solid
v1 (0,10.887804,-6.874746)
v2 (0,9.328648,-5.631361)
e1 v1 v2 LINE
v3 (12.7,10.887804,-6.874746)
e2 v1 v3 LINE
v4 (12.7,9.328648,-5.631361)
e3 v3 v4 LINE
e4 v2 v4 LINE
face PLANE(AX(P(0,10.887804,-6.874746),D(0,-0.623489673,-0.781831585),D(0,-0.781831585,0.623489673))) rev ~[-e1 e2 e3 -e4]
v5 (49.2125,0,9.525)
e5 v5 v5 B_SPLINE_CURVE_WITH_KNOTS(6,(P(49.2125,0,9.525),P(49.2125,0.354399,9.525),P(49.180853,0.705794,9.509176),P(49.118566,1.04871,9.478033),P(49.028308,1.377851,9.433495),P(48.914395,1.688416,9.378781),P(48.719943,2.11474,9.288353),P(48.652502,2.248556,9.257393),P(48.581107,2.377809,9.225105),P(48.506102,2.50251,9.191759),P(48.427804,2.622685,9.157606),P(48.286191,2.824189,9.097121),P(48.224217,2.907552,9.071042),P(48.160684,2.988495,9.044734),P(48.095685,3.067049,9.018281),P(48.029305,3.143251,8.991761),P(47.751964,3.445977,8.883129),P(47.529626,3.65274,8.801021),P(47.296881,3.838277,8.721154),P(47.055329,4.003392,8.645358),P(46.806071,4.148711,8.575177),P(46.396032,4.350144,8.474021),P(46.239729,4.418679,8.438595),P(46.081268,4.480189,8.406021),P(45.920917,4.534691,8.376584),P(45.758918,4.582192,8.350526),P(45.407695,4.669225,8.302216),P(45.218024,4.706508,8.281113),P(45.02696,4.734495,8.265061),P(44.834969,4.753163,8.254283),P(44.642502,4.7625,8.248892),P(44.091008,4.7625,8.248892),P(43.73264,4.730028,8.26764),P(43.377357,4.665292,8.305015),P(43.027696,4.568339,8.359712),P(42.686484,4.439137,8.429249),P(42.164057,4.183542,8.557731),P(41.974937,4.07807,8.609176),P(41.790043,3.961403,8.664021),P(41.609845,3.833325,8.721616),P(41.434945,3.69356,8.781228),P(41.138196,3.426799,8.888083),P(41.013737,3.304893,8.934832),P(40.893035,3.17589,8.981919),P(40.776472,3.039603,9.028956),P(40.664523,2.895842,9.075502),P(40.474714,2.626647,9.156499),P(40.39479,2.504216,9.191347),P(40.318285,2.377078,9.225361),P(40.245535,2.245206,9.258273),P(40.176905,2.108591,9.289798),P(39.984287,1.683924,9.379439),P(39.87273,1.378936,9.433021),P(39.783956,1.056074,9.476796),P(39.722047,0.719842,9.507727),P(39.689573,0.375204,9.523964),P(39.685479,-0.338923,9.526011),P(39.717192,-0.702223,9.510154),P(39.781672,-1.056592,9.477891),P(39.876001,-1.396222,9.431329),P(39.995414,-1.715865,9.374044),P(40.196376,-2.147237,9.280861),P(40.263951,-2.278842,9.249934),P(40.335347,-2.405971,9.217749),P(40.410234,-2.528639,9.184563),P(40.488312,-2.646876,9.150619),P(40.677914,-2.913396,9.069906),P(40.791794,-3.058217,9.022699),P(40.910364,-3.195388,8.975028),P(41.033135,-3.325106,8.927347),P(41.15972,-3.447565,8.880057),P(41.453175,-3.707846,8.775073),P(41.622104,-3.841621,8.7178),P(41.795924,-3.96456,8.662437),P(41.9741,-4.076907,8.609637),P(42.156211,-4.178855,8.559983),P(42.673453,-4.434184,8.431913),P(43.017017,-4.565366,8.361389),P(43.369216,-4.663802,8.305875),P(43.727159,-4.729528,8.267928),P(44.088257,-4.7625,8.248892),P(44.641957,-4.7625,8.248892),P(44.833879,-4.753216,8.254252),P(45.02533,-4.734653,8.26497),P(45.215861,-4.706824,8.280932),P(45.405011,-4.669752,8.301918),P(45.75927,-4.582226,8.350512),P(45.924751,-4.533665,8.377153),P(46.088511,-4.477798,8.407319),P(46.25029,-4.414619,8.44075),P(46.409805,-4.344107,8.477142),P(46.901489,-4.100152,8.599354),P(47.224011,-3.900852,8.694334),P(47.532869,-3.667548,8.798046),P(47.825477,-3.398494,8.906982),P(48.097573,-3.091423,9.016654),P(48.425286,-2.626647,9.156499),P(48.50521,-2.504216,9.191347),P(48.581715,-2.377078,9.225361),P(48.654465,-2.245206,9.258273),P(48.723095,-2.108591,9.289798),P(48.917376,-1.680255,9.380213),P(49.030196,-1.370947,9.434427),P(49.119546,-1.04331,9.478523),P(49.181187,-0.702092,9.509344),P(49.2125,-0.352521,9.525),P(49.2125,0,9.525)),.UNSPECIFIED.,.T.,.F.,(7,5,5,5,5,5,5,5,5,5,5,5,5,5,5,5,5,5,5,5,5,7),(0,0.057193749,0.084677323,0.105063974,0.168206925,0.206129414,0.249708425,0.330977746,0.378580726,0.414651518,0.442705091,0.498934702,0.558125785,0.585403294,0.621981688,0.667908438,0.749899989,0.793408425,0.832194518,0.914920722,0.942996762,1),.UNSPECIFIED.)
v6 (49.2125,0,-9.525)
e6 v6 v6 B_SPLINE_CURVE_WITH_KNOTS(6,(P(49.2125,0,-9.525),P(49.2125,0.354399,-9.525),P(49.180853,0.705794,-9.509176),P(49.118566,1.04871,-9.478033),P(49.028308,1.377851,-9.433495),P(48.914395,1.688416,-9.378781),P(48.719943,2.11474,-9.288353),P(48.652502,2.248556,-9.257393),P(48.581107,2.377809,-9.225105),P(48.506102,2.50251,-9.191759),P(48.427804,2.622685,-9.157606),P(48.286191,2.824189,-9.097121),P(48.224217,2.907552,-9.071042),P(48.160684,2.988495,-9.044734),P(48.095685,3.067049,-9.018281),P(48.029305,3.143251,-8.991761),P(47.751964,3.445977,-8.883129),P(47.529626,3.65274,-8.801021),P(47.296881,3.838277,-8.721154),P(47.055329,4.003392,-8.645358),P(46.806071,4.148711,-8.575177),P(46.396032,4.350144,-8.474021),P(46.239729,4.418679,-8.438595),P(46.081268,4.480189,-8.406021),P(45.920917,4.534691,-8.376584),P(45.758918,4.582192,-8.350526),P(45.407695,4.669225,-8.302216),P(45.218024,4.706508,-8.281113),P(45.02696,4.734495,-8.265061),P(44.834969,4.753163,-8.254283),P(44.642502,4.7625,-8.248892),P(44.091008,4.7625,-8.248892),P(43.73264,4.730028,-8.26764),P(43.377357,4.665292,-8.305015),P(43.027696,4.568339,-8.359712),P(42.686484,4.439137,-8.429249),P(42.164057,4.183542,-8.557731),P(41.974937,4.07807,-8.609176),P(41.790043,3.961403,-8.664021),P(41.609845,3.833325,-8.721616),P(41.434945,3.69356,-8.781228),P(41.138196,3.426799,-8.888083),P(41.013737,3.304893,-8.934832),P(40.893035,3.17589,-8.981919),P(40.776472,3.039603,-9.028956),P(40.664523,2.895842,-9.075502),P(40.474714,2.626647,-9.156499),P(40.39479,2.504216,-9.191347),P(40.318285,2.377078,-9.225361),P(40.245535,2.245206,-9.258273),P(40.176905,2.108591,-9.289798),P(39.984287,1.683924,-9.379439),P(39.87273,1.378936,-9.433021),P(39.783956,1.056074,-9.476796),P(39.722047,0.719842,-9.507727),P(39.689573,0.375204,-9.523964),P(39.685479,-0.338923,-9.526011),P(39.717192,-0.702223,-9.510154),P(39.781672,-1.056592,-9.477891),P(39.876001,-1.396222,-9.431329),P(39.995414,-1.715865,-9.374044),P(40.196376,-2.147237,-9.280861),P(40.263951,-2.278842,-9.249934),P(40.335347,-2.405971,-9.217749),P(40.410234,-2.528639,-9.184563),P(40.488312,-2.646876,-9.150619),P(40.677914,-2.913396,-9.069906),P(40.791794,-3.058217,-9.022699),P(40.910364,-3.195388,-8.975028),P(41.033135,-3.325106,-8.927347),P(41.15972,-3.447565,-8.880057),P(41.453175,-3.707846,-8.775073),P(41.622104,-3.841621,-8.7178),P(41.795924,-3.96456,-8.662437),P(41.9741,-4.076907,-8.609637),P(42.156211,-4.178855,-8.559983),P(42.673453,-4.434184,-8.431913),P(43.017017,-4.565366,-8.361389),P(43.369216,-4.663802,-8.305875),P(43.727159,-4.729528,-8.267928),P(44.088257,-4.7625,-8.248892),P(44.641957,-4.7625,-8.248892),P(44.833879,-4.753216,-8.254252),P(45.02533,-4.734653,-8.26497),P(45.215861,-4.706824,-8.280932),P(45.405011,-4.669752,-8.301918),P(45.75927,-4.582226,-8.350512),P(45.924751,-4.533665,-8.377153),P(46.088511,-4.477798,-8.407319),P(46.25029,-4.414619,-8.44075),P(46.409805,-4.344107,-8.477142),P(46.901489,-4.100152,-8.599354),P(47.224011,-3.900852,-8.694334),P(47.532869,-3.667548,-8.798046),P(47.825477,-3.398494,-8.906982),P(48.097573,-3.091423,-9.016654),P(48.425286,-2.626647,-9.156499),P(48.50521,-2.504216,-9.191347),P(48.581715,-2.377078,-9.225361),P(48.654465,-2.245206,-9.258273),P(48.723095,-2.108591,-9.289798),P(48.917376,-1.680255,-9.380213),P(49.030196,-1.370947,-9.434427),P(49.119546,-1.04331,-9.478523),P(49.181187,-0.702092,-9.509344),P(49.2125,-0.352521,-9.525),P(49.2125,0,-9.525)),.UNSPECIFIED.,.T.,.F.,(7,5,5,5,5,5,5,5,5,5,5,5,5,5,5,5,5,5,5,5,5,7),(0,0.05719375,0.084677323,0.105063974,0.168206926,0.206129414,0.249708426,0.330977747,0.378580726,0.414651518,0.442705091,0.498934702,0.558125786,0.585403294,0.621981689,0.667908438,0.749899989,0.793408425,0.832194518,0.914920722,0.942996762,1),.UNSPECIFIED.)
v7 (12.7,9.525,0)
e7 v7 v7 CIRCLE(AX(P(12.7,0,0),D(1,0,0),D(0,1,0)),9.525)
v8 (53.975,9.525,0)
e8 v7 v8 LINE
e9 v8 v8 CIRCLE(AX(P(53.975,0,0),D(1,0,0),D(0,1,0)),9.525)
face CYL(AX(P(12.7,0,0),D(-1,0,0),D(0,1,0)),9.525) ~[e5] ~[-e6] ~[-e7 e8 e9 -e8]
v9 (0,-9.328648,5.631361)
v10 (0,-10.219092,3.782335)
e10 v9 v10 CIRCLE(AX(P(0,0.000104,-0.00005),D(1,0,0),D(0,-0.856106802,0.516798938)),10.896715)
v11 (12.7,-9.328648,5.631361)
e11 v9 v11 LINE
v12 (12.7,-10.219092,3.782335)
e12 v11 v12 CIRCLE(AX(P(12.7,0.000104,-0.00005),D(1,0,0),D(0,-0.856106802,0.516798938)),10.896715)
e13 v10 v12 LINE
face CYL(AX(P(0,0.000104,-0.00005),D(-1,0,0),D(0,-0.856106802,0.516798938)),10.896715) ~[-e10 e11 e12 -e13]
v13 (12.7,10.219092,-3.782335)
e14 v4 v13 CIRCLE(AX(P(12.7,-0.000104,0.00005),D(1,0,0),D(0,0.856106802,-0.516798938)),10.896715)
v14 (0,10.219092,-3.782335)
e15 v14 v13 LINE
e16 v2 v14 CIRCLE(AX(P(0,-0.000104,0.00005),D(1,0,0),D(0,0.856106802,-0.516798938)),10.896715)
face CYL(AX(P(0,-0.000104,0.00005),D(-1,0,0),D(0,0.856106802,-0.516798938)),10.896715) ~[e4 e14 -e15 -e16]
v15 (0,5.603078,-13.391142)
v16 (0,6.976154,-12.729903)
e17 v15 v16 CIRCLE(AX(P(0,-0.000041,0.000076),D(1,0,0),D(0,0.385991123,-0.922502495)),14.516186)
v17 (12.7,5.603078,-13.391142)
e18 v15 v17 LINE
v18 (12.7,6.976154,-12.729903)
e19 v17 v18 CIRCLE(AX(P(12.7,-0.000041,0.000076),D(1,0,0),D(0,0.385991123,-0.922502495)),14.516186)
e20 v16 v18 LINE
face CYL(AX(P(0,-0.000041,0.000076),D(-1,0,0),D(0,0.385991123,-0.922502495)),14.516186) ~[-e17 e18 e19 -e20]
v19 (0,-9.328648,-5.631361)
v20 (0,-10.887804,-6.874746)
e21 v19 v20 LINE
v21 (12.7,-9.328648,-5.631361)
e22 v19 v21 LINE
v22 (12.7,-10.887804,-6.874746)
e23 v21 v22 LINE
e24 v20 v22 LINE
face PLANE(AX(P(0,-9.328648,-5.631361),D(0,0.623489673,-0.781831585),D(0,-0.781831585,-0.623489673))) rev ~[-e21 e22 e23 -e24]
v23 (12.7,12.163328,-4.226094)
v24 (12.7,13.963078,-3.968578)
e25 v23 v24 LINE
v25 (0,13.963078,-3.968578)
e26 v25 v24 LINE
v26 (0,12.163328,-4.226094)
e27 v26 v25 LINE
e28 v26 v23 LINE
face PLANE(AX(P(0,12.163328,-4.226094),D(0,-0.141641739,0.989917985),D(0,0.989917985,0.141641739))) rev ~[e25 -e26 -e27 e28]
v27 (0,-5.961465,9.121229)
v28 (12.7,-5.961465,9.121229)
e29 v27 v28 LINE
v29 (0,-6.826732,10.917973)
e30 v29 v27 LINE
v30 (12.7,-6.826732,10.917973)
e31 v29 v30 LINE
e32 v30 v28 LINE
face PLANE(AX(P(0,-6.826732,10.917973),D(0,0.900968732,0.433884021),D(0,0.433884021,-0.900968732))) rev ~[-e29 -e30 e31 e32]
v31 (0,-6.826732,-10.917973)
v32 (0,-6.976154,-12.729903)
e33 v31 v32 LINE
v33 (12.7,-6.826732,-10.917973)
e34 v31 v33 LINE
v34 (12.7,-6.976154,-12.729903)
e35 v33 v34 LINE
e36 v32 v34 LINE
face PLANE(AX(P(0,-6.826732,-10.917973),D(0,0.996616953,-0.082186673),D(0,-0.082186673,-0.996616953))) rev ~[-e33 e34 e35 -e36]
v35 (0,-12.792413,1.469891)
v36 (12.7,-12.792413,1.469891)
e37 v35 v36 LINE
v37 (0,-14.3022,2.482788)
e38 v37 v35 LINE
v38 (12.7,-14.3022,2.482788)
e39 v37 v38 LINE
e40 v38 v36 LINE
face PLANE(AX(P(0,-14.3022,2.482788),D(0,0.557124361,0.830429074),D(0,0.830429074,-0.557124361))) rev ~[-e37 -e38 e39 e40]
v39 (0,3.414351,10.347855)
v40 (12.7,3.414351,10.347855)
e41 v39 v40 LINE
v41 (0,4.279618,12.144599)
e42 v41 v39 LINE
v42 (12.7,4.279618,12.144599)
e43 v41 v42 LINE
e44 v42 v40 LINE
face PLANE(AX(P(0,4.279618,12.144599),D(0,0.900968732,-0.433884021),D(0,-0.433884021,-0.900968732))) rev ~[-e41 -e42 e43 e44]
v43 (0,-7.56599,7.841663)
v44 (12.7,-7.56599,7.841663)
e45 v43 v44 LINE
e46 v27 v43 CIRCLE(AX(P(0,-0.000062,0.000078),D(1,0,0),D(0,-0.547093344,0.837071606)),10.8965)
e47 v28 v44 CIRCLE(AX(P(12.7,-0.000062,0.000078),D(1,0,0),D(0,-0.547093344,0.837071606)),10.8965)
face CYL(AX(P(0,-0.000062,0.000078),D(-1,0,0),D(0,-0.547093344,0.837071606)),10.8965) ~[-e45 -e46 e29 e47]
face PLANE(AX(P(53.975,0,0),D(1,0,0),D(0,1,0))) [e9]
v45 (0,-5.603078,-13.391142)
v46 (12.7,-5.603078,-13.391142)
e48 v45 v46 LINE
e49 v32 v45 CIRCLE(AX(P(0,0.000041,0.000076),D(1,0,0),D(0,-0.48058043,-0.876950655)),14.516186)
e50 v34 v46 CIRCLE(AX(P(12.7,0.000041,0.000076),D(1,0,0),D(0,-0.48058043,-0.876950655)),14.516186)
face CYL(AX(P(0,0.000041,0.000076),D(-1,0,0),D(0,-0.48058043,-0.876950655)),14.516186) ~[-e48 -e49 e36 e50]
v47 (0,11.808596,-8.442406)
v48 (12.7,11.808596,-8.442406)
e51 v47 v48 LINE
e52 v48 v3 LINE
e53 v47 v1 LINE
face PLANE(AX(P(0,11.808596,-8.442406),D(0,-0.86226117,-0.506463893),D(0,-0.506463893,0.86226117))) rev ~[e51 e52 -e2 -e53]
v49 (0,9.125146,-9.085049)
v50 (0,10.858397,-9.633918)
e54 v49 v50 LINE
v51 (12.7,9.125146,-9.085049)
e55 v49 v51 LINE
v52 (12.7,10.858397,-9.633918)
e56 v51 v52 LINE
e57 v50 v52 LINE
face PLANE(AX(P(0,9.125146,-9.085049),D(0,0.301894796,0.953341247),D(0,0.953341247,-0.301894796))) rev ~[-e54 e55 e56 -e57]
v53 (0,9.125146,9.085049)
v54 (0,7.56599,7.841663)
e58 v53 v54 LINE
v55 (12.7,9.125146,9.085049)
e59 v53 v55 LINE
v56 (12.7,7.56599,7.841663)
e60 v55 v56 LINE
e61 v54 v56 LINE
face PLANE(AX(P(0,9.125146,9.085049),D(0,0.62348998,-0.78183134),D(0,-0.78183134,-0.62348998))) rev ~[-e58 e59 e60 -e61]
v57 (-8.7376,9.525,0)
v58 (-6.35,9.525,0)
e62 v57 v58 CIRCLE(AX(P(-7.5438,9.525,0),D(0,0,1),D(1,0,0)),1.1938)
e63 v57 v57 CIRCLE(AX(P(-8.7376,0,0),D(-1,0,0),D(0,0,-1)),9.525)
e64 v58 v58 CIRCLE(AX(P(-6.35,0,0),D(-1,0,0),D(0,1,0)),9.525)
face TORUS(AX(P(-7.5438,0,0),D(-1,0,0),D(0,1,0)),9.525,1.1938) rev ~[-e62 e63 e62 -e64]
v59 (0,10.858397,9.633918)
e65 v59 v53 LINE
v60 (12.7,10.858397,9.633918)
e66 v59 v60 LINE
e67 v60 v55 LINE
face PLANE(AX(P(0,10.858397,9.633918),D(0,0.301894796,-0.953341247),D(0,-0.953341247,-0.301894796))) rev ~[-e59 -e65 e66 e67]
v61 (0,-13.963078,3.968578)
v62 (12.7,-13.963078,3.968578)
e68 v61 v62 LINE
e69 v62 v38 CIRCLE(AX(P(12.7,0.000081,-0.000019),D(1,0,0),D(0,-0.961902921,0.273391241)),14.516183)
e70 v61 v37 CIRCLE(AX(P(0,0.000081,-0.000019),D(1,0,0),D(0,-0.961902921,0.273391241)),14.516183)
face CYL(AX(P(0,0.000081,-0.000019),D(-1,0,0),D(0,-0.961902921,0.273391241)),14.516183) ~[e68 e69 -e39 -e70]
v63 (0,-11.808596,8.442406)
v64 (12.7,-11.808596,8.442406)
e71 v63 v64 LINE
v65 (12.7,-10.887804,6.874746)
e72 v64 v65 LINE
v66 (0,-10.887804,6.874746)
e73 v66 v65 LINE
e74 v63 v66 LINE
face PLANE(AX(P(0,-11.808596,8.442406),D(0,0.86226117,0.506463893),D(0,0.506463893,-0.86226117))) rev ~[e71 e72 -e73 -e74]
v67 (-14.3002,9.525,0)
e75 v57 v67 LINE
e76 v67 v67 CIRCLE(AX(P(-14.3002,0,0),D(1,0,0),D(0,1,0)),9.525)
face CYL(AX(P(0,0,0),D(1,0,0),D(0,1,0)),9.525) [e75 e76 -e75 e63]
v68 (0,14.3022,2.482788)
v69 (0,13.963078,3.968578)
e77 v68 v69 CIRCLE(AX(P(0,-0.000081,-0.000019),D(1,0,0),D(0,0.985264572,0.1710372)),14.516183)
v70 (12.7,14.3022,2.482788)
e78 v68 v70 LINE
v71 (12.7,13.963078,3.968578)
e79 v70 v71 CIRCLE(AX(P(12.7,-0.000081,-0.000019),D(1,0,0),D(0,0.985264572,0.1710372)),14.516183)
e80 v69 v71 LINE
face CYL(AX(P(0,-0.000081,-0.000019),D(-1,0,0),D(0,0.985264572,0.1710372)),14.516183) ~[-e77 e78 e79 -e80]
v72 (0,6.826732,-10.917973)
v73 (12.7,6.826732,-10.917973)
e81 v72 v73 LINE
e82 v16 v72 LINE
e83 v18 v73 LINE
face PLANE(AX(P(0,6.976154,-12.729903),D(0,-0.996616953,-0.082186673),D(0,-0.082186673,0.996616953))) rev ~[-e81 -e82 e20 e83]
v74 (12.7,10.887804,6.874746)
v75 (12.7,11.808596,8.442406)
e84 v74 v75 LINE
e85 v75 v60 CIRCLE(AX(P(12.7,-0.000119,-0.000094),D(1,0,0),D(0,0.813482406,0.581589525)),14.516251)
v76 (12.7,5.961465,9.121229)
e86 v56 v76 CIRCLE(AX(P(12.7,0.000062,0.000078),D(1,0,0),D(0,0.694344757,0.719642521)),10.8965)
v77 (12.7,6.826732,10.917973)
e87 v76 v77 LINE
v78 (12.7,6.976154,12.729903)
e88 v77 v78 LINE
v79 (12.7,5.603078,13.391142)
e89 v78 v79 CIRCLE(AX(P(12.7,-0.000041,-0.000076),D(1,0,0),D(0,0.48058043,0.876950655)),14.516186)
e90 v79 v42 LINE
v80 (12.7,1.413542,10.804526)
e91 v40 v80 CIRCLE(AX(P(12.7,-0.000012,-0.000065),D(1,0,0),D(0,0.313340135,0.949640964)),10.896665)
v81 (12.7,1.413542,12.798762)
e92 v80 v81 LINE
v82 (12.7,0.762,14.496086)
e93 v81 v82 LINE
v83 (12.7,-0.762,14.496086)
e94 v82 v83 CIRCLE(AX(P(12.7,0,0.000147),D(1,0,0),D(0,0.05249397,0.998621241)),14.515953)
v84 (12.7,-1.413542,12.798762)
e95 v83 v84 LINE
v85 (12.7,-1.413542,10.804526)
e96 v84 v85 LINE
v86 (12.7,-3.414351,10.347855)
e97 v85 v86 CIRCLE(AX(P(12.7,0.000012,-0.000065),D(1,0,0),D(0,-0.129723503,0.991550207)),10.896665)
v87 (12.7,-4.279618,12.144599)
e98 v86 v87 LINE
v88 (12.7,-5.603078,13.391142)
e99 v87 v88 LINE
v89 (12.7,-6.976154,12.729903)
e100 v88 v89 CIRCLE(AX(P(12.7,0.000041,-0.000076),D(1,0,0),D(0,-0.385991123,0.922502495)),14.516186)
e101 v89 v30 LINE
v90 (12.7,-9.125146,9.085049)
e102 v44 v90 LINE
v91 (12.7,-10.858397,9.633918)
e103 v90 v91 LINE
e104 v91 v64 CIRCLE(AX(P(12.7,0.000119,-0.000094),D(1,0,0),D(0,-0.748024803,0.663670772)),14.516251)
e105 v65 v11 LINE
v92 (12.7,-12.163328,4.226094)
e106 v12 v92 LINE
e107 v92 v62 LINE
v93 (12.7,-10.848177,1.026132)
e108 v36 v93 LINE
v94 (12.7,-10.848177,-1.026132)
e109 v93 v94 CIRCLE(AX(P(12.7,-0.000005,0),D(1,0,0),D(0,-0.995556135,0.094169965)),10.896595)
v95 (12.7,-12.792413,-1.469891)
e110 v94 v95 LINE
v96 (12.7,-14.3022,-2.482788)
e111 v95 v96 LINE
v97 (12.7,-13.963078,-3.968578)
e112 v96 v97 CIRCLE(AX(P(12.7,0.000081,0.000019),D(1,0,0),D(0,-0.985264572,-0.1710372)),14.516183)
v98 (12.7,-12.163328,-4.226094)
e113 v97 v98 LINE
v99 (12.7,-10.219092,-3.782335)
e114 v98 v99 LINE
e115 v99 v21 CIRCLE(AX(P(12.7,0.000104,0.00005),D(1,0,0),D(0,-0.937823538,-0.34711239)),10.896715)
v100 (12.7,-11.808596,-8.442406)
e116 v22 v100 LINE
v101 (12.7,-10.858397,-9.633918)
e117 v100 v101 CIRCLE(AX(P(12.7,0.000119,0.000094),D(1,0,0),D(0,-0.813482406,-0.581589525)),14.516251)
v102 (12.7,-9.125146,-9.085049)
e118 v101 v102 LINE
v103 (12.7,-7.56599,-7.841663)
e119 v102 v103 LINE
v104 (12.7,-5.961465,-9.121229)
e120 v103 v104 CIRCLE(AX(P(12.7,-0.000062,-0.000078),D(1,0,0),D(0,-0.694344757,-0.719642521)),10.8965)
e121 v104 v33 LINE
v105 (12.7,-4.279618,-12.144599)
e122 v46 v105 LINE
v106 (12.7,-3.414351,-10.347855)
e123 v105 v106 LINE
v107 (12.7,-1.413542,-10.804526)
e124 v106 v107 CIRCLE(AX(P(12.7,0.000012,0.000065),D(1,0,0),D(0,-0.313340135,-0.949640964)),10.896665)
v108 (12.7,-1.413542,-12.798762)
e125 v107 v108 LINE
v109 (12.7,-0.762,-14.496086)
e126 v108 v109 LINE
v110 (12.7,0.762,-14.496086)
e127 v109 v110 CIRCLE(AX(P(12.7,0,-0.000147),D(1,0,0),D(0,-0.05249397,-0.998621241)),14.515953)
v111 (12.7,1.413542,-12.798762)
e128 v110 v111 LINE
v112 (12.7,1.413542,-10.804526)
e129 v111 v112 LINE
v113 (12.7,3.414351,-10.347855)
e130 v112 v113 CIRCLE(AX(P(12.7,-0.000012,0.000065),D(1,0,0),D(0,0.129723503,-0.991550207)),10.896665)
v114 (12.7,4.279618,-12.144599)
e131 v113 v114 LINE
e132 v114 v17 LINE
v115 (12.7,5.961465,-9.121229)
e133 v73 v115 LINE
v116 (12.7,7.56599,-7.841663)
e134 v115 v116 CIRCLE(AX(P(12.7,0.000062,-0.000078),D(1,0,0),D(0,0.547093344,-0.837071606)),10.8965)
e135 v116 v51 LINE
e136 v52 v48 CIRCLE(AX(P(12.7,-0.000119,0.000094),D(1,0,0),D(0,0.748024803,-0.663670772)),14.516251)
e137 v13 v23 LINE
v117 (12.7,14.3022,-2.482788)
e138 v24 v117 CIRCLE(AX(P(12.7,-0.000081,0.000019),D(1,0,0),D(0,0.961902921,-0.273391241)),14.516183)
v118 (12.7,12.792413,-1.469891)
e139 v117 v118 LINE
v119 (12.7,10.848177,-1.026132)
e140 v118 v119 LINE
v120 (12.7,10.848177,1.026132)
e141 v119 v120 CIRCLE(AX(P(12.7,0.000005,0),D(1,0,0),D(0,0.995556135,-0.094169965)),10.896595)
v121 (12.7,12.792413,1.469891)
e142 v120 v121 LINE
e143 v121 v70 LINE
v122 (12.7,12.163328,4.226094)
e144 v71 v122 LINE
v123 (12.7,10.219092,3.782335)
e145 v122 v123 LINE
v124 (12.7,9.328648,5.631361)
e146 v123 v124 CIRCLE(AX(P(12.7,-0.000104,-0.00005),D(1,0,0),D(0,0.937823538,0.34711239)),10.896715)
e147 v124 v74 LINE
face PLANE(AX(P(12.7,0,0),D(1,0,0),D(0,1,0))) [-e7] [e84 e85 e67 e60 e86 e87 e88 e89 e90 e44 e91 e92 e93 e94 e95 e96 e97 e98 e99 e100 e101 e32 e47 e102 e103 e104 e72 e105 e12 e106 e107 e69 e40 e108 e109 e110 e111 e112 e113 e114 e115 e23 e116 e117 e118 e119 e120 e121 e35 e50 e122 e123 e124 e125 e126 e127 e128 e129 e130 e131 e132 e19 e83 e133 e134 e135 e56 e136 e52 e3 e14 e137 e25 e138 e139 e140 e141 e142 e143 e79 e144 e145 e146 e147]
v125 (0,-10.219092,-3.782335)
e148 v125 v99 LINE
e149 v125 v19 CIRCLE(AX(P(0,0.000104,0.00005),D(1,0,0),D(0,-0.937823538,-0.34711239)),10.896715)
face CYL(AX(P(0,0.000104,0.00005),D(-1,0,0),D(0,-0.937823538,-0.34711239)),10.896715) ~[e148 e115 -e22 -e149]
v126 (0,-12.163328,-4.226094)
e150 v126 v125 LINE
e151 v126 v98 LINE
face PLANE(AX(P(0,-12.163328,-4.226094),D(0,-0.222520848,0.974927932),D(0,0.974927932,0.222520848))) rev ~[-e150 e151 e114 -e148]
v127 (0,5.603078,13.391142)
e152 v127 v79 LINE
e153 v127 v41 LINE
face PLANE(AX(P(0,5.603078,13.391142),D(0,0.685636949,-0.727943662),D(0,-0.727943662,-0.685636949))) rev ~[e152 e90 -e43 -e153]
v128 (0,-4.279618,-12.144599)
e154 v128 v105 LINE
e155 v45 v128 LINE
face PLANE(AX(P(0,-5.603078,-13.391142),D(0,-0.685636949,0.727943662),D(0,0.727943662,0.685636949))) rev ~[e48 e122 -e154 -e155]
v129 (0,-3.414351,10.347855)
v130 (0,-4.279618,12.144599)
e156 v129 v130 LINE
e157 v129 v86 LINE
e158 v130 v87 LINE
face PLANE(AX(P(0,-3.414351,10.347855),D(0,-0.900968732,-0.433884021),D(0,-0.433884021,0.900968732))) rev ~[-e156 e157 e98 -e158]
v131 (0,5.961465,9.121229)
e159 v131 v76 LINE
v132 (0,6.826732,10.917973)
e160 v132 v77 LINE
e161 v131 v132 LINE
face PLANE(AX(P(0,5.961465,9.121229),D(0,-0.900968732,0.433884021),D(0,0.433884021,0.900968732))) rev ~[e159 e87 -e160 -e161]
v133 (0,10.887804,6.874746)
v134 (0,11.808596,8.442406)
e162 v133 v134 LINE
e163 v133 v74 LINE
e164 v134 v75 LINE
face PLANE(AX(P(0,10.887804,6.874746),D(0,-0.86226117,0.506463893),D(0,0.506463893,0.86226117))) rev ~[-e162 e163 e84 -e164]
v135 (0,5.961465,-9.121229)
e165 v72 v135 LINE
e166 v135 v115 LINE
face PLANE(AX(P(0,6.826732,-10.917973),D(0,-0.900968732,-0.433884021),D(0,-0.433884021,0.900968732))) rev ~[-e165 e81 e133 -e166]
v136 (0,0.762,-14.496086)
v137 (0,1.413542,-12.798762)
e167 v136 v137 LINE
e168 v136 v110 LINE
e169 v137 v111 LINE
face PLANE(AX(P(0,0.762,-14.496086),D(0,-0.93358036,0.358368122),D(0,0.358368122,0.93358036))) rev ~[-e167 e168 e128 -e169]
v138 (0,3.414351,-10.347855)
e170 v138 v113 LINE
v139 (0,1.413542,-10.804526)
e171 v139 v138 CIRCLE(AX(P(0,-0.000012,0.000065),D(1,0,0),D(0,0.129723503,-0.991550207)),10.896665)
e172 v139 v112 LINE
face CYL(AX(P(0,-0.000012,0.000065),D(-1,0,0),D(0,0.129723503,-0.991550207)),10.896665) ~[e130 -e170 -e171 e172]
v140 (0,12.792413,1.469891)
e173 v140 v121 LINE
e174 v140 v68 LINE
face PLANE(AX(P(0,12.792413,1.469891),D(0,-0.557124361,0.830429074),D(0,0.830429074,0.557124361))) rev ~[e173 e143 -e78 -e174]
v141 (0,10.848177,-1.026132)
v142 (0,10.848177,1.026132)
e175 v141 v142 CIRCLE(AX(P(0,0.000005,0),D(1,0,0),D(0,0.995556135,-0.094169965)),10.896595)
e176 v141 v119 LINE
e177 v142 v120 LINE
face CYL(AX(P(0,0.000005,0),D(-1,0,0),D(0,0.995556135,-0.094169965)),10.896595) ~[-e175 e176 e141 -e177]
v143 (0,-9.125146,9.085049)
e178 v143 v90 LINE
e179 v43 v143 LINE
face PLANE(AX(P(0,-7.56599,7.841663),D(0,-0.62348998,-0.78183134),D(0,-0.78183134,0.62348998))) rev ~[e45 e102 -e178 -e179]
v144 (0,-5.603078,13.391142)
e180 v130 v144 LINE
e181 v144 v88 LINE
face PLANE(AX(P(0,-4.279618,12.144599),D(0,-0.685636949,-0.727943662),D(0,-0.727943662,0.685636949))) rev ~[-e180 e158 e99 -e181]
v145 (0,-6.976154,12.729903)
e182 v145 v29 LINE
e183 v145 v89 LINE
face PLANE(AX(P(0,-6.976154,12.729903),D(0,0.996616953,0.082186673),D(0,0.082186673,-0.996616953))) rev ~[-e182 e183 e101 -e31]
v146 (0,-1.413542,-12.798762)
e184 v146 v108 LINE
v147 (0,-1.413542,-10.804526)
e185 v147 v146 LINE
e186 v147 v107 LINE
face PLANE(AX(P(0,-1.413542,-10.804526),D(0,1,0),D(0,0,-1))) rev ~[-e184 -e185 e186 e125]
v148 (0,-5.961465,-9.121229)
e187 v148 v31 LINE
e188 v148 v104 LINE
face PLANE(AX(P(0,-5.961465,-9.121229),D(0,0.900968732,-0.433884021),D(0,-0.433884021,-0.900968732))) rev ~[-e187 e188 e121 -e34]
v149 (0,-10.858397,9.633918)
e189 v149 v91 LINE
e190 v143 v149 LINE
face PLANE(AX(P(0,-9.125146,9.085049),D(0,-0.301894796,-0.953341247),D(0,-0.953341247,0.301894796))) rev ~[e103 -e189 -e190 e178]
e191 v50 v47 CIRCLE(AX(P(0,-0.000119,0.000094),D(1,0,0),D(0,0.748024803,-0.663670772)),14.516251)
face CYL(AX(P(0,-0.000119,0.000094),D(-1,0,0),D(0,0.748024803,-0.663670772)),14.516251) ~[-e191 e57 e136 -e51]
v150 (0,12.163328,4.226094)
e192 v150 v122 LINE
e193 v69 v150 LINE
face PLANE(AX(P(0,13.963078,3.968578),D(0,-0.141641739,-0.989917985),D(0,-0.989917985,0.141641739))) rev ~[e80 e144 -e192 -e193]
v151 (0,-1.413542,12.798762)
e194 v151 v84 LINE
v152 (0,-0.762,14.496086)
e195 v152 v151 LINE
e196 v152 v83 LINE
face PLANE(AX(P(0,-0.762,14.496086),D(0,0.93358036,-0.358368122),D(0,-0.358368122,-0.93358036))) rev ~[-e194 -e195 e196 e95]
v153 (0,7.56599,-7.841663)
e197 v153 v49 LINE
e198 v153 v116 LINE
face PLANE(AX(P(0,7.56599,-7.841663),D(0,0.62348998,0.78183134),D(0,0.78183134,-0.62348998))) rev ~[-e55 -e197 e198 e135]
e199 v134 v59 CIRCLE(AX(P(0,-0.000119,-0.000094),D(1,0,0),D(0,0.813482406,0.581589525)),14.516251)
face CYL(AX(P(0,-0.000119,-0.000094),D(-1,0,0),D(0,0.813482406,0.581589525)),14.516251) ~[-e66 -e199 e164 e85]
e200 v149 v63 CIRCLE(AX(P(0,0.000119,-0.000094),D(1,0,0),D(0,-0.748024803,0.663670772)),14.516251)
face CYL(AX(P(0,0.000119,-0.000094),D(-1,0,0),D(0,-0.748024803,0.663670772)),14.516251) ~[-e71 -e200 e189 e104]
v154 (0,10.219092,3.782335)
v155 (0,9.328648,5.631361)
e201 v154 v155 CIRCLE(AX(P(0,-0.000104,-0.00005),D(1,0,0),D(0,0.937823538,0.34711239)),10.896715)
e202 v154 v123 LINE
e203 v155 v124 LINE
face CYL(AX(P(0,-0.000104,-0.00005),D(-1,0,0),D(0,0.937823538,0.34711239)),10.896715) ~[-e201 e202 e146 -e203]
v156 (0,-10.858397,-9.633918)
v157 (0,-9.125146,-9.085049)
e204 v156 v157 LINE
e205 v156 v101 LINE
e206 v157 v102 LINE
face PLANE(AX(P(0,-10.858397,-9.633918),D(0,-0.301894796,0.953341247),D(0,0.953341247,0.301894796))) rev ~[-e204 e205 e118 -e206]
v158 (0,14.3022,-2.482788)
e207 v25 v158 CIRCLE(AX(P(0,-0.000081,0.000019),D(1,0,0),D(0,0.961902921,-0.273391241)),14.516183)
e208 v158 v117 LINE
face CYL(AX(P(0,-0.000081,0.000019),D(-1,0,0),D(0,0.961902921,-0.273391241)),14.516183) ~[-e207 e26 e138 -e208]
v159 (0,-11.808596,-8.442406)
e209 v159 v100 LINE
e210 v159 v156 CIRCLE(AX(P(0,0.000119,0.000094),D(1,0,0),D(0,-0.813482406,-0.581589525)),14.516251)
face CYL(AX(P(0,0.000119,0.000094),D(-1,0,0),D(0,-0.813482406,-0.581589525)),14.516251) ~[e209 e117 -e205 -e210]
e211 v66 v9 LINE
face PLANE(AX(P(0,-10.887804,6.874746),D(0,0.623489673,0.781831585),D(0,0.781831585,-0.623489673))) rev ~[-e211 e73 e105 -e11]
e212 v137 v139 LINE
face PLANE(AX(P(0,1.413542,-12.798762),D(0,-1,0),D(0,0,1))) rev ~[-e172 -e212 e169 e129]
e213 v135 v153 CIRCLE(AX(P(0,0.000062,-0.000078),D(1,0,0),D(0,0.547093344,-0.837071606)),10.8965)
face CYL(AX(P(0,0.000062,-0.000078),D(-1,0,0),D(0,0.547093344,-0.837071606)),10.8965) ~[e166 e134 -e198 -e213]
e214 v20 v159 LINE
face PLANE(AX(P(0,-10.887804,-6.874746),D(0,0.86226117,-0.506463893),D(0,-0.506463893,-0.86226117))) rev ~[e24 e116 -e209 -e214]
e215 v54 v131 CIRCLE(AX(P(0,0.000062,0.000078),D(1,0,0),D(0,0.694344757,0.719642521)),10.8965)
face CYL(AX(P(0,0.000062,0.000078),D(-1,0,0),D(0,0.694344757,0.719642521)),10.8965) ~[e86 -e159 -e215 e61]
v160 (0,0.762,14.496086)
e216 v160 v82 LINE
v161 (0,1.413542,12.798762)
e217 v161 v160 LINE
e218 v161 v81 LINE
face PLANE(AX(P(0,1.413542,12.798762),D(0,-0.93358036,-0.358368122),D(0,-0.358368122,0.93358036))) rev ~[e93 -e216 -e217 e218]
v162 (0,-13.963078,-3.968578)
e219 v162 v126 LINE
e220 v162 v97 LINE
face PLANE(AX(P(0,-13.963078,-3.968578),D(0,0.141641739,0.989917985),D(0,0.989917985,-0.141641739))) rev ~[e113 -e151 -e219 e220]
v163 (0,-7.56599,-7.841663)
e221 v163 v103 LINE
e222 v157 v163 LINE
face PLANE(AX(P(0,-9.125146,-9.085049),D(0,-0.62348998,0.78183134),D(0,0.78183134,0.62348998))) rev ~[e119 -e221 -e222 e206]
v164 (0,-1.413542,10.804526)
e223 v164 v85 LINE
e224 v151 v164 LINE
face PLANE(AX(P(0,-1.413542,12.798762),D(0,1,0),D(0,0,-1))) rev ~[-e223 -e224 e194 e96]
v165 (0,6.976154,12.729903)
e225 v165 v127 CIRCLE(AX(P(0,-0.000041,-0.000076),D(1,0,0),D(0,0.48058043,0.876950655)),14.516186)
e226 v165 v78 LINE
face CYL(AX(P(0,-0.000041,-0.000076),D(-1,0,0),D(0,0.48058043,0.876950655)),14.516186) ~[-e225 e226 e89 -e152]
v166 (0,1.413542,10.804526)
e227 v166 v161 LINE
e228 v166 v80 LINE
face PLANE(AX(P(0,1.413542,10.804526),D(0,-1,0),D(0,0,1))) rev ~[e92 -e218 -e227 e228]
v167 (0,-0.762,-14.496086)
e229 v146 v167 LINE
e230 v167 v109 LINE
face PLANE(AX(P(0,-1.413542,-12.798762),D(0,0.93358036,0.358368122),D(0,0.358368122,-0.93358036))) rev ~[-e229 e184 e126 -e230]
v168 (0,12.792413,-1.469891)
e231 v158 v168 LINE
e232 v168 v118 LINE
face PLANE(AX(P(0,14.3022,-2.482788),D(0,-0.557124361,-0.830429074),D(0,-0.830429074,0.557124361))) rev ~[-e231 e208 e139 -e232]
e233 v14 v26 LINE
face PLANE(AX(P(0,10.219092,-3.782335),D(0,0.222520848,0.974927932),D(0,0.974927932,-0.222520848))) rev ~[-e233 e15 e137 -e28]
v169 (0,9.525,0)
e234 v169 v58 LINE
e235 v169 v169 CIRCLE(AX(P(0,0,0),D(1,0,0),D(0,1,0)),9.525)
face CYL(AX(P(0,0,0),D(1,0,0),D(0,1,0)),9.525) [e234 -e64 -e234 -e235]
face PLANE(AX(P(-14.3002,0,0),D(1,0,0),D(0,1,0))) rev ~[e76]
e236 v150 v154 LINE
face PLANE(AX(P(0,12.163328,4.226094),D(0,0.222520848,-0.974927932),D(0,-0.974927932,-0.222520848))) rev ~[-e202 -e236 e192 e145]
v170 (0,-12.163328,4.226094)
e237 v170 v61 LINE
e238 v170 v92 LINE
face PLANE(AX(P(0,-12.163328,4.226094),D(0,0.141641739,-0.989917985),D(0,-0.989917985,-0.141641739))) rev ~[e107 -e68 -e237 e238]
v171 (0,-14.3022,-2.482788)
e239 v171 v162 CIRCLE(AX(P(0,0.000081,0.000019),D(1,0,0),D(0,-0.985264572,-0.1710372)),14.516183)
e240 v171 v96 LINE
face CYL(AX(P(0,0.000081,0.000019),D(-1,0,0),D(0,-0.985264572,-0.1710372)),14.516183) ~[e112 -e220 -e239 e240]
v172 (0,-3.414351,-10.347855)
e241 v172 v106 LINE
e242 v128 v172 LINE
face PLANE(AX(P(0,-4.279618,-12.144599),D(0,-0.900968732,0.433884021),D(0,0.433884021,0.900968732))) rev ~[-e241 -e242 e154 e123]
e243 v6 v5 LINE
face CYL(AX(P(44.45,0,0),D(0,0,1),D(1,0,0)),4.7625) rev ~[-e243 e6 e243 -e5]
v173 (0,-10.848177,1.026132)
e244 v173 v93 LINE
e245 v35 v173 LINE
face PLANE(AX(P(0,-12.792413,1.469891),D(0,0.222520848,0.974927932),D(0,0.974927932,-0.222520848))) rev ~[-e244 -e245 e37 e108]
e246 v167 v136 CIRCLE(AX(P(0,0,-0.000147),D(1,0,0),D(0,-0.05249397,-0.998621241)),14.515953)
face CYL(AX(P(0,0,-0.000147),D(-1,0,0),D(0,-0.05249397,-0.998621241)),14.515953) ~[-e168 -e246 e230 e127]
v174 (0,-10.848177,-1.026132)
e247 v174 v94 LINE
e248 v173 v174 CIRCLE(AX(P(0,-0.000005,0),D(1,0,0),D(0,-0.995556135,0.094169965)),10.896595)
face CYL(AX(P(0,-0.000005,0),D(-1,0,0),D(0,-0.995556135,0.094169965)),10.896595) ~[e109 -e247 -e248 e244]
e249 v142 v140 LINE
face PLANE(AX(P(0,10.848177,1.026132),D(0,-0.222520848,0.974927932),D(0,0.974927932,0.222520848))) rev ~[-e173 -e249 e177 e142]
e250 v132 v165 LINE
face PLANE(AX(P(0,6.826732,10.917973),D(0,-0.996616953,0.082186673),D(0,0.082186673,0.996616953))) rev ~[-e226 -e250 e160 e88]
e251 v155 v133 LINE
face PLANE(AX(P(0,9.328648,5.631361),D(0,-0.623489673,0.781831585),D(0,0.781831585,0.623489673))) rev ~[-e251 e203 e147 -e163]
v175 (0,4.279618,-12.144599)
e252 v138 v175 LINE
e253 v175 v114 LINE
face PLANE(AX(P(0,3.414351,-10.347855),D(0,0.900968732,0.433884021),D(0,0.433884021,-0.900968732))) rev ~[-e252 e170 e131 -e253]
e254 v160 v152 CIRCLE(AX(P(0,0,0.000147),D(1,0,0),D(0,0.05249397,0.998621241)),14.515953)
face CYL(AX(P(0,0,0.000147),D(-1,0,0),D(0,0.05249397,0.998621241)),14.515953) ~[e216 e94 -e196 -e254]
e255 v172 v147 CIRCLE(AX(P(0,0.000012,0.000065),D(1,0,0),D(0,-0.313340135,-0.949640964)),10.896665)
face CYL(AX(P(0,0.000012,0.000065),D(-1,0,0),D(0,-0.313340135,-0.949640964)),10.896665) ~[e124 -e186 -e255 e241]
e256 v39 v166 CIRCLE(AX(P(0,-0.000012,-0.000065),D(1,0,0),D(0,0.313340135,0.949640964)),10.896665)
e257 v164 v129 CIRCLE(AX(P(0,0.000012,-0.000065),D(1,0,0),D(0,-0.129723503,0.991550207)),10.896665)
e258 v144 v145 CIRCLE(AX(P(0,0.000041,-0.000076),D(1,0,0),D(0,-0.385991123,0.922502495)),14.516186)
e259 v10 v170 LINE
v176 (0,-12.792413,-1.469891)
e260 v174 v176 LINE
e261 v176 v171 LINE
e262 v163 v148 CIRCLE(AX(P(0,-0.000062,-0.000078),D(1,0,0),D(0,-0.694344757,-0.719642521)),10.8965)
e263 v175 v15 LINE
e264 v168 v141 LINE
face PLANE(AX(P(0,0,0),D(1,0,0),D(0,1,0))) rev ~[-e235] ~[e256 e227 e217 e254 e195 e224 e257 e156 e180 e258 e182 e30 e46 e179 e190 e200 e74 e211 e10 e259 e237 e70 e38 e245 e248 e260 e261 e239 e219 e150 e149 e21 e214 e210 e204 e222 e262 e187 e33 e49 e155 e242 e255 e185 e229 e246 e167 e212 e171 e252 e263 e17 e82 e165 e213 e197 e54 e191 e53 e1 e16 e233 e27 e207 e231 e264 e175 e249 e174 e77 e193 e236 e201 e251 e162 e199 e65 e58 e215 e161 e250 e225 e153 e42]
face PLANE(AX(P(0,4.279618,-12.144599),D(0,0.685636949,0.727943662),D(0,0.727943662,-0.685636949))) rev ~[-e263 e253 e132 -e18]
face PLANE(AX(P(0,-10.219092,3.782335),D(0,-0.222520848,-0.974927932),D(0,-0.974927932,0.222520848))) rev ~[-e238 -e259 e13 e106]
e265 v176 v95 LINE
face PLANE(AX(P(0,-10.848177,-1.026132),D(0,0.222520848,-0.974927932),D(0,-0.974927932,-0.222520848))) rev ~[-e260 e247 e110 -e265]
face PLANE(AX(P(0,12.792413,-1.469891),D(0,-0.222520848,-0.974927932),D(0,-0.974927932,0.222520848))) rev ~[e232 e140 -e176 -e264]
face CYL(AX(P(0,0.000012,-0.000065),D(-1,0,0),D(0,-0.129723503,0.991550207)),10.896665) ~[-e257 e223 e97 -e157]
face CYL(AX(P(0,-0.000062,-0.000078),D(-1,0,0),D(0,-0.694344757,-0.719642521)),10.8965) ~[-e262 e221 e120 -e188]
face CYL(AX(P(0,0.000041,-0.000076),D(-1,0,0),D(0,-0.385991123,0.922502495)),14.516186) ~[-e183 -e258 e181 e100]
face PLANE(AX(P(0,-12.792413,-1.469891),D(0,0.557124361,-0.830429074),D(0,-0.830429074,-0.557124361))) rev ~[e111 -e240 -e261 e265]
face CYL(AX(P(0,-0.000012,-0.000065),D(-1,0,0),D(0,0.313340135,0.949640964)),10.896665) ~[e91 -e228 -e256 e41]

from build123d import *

# Parameters (mm, degrees)
F0_R     = 9.525
F1_DEPTH = 14.3002
F3_DEPTH = 12.7
F4_R     = 9.525
F5_DEPTH = 41.275
F6_R     = 1.1938
F8_R     = 4.7625
F9_DEPTH = 12.7


with BuildPart() as f1:
    # F0 (on Right) → F1 (new body)
    with BuildSketch(Plane.YZ):
        Circle(F0_R)
    extrude(amount=-F1_DEPTH)

    # F2 (on face) → F3 (join)
    with BuildSketch(Plane.YZ):
        with BuildLine():
            Line((1.413542, 12.798762), (0.762, 14.496086))
            ThreePointArc((0.762, 14.496086), (0, 14.5161), (-0.762, 14.496086))
            Line((-0.762, 14.496086), (-1.413542, 12.798762))
            Line((-1.413542, 12.798762), (-1.413542, 10.804526))
            ThreePointArc((-1.413542, 10.804526), (-2.424722, 10.623399), (-3.414351, 10.347855))
            Line((-3.414351, 10.347855), (-4.279618, 12.144599))
            Line((-4.279618, 12.144599), (-5.603078, 13.391142))
            ThreePointArc((-5.603078, 13.391142), (-6.2983, 13.078554), (-6.976154, 12.729903))
            Line((-6.976154, 12.729903), (-6.826732, 10.917973))
            Line((-6.826732, 10.917973), (-5.961465, 9.121229))
            ThreePointArc((-5.961465, 9.121229), (-6.793919, 8.519305), (-7.56599, 7.841663))
            Line((-7.56599, 7.841663), (-9.125146, 9.085049))
            Line((-9.125146, 9.085049), (-10.858397, 9.633918))
            ThreePointArc((-10.858397, 9.633918), (-11.349144, 9.05064), (-11.808596, 8.442406))
            Line((-11.808596, 8.442406), (-10.887804, 6.874746))
            Line((-10.887804, 6.874746), (-9.328648, 5.631361))
            ThreePointArc((-9.328648, 5.631361), (-9.817497, 4.727858), (-10.219092, 3.782335))
            Line((-10.219092, 3.782335), (-12.163328, 4.226094))
            Line((-12.163328, 4.226094), (-13.963078, 3.968578))
            ThreePointArc((-13.963078, 3.968578), (-14.152151, 3.230136), (-14.3022, 2.482788))
            Line((-14.3022, 2.482788), (-12.792413, 1.469891))
            Line((-12.792413, 1.469891), (-10.848177, 1.026132))
            ThreePointArc((-10.848177, 1.026132), (-10.8966, 0), (-10.848177, -1.026132))
            Line((-10.848177, -1.026132), (-12.792413, -1.469891))
            Line((-12.792413, -1.469891), (-14.3022, -2.482788))
            ThreePointArc((-14.3022, -2.482788), (-14.152151, -3.230136), (-13.963078, -3.968578))
            Line((-13.963078, -3.968578), (-12.163328, -4.226094))
            Line((-12.163328, -4.226094), (-10.219092, -3.782335))
            ThreePointArc((-10.219092, -3.782335), (-9.817497, -4.727858), (-9.328648, -5.631361))
            Line((-9.328648, -5.631361), (-10.887804, -6.874746))
            Line((-10.887804, -6.874746), (-11.808596, -8.442406))
            ThreePointArc((-11.808596, -8.442406), (-11.349144, -9.05064), (-10.858397, -9.633918))
            Line((-10.858397, -9.633918), (-9.125146, -9.085049))
            Line((-9.125146, -9.085049), (-7.56599, -7.841663))
            ThreePointArc((-7.56599, -7.841663), (-6.793919, -8.519305), (-5.961465, -9.121229))
            Line((-5.961465, -9.121229), (-6.826732, -10.917973))
            Line((-6.826732, -10.917973), (-6.976154, -12.729903))
            ThreePointArc((-6.976154, -12.729903), (-6.2983, -13.078554), (-5.603078, -13.391142))
            Line((-5.603078, -13.391142), (-4.279618, -12.144599))
            Line((-4.279618, -12.144599), (-3.414351, -10.347855))
            ThreePointArc((-3.414351, -10.347855), (-2.424722, -10.623399), (-1.413542, -10.804526))
            Line((-1.413542, -10.804526), (-1.413542, -12.798762))
            Line((-1.413542, -12.798762), (-0.762, -14.496086))
            ThreePointArc((-0.762, -14.496086), (0, -14.5161), (0.762, -14.496086))
            Line((0.762, -14.496086), (1.413542, -12.798762))
            Line((1.413542, -12.798762), (1.413542, -10.804526))
            ThreePointArc((1.413542, -10.804526), (2.424722, -10.623399), (3.414351, -10.347855))
            Line((3.414351, -10.347855), (4.279618, -12.144599))
            Line((4.279618, -12.144599), (5.603078, -13.391142))
            ThreePointArc((5.603078, -13.391142), (6.2983, -13.078554), (6.976154, -12.729903))
            Line((6.976154, -12.729903), (6.826732, -10.917973))
            Line((6.826732, -10.917973), (5.961465, -9.121229))
            ThreePointArc((5.961465, -9.121229), (6.793919, -8.519305), (7.56599, -7.841663))
            Line((7.56599, -7.841663), (9.125146, -9.085049))
            Line((9.125146, -9.085049), (10.858397, -9.633918))
            ThreePointArc((10.858397, -9.633918), (11.349144, -9.05064), (11.808596, -8.442406))
            Line((11.808596, -8.442406), (10.887804, -6.874746))
            Line((10.887804, -6.874746), (9.328648, -5.631361))
            ThreePointArc((9.328648, -5.631361), (9.817497, -4.727858), (10.219092, -3.782335))
            Line((10.219092, -3.782335), (12.163328, -4.226094))
            Line((12.163328, -4.226094), (13.963078, -3.968578))
            ThreePointArc((13.963078, -3.968578), (14.152151, -3.230136), (14.3022, -2.482788))
            Line((14.3022, -2.482788), (12.792413, -1.469891))
            Line((12.792413, -1.469891), (10.848177, -1.026132))
            ThreePointArc((10.848177, -1.026132), (10.8966, 0), (10.848177, 1.026132))
            Line((10.848177, 1.026132), (12.792413, 1.469891))
            Line((12.792413, 1.469891), (14.3022, 2.482788))
            ThreePointArc((14.3022, 2.482788), (14.152151, 3.230136), (13.963078, 3.968578))
            Line((13.963078, 3.968578), (12.163328, 4.226094))
            Line((12.163328, 4.226094), (10.219092, 3.782335))
            ThreePointArc((10.219092, 3.782335), (9.817497, 4.727858), (9.328648, 5.631361))
            Line((9.328648, 5.631361), (10.887804, 6.874746))
            Line((10.887804, 6.874746), (11.808596, 8.442406))
            ThreePointArc((11.808596, 8.442406), (11.349144, 9.05064), (10.858397, 9.633918))
            Line((10.858397, 9.633918), (9.125146, 9.085049))
            Line((9.125146, 9.085049), (7.56599, 7.841663))
            ThreePointArc((7.56599, 7.841663), (6.793919, 8.519305), (5.961465, 9.121229))
            Line((5.961465, 9.121229), (6.826732, 10.917973))
            Line((6.826732, 10.917973), (6.976154, 12.729903))
            ThreePointArc((6.976154, 12.729903), (6.2983, 13.078554), (5.603078, 13.391142))
            Line((5.603078, 13.391142), (4.279618, 12.144599))
            Line((4.279618, 12.144599), (3.414351, 10.347855))
            ThreePointArc((3.414351, 10.347855), (2.424722, 10.623399), (1.413542, 10.804526))
            Line((1.413542, 10.804526), (1.413542, 12.798762))
        make_face()
    extrude(amount=F3_DEPTH)

    # F4 (on face) → F5 (join)
    with BuildSketch(Plane.YZ.offset(12.7)):
        Circle(F4_R)
    extrude(amount=F5_DEPTH)

    # F6 (on Top) → F7 (revolve, cut)
    with BuildSketch(Plane.XY):
        with Locations((-7.5438, 9.525)):
            Circle(F6_R)
    revolve(axis=Axis((-10.466062, 0, 0), (-1, 0, 0)), mode=Mode.SUBTRACT)

    # F8 (on Top) → F9 (cut, symmetric)
    with BuildSketch(Plane.XY):
        with Locations((44.45, 0)):
            Circle(F8_R)
    extrude(amount=F9_DEPTH, both=True, mode=Mode.SUBTRACT)


solid = f1.part
